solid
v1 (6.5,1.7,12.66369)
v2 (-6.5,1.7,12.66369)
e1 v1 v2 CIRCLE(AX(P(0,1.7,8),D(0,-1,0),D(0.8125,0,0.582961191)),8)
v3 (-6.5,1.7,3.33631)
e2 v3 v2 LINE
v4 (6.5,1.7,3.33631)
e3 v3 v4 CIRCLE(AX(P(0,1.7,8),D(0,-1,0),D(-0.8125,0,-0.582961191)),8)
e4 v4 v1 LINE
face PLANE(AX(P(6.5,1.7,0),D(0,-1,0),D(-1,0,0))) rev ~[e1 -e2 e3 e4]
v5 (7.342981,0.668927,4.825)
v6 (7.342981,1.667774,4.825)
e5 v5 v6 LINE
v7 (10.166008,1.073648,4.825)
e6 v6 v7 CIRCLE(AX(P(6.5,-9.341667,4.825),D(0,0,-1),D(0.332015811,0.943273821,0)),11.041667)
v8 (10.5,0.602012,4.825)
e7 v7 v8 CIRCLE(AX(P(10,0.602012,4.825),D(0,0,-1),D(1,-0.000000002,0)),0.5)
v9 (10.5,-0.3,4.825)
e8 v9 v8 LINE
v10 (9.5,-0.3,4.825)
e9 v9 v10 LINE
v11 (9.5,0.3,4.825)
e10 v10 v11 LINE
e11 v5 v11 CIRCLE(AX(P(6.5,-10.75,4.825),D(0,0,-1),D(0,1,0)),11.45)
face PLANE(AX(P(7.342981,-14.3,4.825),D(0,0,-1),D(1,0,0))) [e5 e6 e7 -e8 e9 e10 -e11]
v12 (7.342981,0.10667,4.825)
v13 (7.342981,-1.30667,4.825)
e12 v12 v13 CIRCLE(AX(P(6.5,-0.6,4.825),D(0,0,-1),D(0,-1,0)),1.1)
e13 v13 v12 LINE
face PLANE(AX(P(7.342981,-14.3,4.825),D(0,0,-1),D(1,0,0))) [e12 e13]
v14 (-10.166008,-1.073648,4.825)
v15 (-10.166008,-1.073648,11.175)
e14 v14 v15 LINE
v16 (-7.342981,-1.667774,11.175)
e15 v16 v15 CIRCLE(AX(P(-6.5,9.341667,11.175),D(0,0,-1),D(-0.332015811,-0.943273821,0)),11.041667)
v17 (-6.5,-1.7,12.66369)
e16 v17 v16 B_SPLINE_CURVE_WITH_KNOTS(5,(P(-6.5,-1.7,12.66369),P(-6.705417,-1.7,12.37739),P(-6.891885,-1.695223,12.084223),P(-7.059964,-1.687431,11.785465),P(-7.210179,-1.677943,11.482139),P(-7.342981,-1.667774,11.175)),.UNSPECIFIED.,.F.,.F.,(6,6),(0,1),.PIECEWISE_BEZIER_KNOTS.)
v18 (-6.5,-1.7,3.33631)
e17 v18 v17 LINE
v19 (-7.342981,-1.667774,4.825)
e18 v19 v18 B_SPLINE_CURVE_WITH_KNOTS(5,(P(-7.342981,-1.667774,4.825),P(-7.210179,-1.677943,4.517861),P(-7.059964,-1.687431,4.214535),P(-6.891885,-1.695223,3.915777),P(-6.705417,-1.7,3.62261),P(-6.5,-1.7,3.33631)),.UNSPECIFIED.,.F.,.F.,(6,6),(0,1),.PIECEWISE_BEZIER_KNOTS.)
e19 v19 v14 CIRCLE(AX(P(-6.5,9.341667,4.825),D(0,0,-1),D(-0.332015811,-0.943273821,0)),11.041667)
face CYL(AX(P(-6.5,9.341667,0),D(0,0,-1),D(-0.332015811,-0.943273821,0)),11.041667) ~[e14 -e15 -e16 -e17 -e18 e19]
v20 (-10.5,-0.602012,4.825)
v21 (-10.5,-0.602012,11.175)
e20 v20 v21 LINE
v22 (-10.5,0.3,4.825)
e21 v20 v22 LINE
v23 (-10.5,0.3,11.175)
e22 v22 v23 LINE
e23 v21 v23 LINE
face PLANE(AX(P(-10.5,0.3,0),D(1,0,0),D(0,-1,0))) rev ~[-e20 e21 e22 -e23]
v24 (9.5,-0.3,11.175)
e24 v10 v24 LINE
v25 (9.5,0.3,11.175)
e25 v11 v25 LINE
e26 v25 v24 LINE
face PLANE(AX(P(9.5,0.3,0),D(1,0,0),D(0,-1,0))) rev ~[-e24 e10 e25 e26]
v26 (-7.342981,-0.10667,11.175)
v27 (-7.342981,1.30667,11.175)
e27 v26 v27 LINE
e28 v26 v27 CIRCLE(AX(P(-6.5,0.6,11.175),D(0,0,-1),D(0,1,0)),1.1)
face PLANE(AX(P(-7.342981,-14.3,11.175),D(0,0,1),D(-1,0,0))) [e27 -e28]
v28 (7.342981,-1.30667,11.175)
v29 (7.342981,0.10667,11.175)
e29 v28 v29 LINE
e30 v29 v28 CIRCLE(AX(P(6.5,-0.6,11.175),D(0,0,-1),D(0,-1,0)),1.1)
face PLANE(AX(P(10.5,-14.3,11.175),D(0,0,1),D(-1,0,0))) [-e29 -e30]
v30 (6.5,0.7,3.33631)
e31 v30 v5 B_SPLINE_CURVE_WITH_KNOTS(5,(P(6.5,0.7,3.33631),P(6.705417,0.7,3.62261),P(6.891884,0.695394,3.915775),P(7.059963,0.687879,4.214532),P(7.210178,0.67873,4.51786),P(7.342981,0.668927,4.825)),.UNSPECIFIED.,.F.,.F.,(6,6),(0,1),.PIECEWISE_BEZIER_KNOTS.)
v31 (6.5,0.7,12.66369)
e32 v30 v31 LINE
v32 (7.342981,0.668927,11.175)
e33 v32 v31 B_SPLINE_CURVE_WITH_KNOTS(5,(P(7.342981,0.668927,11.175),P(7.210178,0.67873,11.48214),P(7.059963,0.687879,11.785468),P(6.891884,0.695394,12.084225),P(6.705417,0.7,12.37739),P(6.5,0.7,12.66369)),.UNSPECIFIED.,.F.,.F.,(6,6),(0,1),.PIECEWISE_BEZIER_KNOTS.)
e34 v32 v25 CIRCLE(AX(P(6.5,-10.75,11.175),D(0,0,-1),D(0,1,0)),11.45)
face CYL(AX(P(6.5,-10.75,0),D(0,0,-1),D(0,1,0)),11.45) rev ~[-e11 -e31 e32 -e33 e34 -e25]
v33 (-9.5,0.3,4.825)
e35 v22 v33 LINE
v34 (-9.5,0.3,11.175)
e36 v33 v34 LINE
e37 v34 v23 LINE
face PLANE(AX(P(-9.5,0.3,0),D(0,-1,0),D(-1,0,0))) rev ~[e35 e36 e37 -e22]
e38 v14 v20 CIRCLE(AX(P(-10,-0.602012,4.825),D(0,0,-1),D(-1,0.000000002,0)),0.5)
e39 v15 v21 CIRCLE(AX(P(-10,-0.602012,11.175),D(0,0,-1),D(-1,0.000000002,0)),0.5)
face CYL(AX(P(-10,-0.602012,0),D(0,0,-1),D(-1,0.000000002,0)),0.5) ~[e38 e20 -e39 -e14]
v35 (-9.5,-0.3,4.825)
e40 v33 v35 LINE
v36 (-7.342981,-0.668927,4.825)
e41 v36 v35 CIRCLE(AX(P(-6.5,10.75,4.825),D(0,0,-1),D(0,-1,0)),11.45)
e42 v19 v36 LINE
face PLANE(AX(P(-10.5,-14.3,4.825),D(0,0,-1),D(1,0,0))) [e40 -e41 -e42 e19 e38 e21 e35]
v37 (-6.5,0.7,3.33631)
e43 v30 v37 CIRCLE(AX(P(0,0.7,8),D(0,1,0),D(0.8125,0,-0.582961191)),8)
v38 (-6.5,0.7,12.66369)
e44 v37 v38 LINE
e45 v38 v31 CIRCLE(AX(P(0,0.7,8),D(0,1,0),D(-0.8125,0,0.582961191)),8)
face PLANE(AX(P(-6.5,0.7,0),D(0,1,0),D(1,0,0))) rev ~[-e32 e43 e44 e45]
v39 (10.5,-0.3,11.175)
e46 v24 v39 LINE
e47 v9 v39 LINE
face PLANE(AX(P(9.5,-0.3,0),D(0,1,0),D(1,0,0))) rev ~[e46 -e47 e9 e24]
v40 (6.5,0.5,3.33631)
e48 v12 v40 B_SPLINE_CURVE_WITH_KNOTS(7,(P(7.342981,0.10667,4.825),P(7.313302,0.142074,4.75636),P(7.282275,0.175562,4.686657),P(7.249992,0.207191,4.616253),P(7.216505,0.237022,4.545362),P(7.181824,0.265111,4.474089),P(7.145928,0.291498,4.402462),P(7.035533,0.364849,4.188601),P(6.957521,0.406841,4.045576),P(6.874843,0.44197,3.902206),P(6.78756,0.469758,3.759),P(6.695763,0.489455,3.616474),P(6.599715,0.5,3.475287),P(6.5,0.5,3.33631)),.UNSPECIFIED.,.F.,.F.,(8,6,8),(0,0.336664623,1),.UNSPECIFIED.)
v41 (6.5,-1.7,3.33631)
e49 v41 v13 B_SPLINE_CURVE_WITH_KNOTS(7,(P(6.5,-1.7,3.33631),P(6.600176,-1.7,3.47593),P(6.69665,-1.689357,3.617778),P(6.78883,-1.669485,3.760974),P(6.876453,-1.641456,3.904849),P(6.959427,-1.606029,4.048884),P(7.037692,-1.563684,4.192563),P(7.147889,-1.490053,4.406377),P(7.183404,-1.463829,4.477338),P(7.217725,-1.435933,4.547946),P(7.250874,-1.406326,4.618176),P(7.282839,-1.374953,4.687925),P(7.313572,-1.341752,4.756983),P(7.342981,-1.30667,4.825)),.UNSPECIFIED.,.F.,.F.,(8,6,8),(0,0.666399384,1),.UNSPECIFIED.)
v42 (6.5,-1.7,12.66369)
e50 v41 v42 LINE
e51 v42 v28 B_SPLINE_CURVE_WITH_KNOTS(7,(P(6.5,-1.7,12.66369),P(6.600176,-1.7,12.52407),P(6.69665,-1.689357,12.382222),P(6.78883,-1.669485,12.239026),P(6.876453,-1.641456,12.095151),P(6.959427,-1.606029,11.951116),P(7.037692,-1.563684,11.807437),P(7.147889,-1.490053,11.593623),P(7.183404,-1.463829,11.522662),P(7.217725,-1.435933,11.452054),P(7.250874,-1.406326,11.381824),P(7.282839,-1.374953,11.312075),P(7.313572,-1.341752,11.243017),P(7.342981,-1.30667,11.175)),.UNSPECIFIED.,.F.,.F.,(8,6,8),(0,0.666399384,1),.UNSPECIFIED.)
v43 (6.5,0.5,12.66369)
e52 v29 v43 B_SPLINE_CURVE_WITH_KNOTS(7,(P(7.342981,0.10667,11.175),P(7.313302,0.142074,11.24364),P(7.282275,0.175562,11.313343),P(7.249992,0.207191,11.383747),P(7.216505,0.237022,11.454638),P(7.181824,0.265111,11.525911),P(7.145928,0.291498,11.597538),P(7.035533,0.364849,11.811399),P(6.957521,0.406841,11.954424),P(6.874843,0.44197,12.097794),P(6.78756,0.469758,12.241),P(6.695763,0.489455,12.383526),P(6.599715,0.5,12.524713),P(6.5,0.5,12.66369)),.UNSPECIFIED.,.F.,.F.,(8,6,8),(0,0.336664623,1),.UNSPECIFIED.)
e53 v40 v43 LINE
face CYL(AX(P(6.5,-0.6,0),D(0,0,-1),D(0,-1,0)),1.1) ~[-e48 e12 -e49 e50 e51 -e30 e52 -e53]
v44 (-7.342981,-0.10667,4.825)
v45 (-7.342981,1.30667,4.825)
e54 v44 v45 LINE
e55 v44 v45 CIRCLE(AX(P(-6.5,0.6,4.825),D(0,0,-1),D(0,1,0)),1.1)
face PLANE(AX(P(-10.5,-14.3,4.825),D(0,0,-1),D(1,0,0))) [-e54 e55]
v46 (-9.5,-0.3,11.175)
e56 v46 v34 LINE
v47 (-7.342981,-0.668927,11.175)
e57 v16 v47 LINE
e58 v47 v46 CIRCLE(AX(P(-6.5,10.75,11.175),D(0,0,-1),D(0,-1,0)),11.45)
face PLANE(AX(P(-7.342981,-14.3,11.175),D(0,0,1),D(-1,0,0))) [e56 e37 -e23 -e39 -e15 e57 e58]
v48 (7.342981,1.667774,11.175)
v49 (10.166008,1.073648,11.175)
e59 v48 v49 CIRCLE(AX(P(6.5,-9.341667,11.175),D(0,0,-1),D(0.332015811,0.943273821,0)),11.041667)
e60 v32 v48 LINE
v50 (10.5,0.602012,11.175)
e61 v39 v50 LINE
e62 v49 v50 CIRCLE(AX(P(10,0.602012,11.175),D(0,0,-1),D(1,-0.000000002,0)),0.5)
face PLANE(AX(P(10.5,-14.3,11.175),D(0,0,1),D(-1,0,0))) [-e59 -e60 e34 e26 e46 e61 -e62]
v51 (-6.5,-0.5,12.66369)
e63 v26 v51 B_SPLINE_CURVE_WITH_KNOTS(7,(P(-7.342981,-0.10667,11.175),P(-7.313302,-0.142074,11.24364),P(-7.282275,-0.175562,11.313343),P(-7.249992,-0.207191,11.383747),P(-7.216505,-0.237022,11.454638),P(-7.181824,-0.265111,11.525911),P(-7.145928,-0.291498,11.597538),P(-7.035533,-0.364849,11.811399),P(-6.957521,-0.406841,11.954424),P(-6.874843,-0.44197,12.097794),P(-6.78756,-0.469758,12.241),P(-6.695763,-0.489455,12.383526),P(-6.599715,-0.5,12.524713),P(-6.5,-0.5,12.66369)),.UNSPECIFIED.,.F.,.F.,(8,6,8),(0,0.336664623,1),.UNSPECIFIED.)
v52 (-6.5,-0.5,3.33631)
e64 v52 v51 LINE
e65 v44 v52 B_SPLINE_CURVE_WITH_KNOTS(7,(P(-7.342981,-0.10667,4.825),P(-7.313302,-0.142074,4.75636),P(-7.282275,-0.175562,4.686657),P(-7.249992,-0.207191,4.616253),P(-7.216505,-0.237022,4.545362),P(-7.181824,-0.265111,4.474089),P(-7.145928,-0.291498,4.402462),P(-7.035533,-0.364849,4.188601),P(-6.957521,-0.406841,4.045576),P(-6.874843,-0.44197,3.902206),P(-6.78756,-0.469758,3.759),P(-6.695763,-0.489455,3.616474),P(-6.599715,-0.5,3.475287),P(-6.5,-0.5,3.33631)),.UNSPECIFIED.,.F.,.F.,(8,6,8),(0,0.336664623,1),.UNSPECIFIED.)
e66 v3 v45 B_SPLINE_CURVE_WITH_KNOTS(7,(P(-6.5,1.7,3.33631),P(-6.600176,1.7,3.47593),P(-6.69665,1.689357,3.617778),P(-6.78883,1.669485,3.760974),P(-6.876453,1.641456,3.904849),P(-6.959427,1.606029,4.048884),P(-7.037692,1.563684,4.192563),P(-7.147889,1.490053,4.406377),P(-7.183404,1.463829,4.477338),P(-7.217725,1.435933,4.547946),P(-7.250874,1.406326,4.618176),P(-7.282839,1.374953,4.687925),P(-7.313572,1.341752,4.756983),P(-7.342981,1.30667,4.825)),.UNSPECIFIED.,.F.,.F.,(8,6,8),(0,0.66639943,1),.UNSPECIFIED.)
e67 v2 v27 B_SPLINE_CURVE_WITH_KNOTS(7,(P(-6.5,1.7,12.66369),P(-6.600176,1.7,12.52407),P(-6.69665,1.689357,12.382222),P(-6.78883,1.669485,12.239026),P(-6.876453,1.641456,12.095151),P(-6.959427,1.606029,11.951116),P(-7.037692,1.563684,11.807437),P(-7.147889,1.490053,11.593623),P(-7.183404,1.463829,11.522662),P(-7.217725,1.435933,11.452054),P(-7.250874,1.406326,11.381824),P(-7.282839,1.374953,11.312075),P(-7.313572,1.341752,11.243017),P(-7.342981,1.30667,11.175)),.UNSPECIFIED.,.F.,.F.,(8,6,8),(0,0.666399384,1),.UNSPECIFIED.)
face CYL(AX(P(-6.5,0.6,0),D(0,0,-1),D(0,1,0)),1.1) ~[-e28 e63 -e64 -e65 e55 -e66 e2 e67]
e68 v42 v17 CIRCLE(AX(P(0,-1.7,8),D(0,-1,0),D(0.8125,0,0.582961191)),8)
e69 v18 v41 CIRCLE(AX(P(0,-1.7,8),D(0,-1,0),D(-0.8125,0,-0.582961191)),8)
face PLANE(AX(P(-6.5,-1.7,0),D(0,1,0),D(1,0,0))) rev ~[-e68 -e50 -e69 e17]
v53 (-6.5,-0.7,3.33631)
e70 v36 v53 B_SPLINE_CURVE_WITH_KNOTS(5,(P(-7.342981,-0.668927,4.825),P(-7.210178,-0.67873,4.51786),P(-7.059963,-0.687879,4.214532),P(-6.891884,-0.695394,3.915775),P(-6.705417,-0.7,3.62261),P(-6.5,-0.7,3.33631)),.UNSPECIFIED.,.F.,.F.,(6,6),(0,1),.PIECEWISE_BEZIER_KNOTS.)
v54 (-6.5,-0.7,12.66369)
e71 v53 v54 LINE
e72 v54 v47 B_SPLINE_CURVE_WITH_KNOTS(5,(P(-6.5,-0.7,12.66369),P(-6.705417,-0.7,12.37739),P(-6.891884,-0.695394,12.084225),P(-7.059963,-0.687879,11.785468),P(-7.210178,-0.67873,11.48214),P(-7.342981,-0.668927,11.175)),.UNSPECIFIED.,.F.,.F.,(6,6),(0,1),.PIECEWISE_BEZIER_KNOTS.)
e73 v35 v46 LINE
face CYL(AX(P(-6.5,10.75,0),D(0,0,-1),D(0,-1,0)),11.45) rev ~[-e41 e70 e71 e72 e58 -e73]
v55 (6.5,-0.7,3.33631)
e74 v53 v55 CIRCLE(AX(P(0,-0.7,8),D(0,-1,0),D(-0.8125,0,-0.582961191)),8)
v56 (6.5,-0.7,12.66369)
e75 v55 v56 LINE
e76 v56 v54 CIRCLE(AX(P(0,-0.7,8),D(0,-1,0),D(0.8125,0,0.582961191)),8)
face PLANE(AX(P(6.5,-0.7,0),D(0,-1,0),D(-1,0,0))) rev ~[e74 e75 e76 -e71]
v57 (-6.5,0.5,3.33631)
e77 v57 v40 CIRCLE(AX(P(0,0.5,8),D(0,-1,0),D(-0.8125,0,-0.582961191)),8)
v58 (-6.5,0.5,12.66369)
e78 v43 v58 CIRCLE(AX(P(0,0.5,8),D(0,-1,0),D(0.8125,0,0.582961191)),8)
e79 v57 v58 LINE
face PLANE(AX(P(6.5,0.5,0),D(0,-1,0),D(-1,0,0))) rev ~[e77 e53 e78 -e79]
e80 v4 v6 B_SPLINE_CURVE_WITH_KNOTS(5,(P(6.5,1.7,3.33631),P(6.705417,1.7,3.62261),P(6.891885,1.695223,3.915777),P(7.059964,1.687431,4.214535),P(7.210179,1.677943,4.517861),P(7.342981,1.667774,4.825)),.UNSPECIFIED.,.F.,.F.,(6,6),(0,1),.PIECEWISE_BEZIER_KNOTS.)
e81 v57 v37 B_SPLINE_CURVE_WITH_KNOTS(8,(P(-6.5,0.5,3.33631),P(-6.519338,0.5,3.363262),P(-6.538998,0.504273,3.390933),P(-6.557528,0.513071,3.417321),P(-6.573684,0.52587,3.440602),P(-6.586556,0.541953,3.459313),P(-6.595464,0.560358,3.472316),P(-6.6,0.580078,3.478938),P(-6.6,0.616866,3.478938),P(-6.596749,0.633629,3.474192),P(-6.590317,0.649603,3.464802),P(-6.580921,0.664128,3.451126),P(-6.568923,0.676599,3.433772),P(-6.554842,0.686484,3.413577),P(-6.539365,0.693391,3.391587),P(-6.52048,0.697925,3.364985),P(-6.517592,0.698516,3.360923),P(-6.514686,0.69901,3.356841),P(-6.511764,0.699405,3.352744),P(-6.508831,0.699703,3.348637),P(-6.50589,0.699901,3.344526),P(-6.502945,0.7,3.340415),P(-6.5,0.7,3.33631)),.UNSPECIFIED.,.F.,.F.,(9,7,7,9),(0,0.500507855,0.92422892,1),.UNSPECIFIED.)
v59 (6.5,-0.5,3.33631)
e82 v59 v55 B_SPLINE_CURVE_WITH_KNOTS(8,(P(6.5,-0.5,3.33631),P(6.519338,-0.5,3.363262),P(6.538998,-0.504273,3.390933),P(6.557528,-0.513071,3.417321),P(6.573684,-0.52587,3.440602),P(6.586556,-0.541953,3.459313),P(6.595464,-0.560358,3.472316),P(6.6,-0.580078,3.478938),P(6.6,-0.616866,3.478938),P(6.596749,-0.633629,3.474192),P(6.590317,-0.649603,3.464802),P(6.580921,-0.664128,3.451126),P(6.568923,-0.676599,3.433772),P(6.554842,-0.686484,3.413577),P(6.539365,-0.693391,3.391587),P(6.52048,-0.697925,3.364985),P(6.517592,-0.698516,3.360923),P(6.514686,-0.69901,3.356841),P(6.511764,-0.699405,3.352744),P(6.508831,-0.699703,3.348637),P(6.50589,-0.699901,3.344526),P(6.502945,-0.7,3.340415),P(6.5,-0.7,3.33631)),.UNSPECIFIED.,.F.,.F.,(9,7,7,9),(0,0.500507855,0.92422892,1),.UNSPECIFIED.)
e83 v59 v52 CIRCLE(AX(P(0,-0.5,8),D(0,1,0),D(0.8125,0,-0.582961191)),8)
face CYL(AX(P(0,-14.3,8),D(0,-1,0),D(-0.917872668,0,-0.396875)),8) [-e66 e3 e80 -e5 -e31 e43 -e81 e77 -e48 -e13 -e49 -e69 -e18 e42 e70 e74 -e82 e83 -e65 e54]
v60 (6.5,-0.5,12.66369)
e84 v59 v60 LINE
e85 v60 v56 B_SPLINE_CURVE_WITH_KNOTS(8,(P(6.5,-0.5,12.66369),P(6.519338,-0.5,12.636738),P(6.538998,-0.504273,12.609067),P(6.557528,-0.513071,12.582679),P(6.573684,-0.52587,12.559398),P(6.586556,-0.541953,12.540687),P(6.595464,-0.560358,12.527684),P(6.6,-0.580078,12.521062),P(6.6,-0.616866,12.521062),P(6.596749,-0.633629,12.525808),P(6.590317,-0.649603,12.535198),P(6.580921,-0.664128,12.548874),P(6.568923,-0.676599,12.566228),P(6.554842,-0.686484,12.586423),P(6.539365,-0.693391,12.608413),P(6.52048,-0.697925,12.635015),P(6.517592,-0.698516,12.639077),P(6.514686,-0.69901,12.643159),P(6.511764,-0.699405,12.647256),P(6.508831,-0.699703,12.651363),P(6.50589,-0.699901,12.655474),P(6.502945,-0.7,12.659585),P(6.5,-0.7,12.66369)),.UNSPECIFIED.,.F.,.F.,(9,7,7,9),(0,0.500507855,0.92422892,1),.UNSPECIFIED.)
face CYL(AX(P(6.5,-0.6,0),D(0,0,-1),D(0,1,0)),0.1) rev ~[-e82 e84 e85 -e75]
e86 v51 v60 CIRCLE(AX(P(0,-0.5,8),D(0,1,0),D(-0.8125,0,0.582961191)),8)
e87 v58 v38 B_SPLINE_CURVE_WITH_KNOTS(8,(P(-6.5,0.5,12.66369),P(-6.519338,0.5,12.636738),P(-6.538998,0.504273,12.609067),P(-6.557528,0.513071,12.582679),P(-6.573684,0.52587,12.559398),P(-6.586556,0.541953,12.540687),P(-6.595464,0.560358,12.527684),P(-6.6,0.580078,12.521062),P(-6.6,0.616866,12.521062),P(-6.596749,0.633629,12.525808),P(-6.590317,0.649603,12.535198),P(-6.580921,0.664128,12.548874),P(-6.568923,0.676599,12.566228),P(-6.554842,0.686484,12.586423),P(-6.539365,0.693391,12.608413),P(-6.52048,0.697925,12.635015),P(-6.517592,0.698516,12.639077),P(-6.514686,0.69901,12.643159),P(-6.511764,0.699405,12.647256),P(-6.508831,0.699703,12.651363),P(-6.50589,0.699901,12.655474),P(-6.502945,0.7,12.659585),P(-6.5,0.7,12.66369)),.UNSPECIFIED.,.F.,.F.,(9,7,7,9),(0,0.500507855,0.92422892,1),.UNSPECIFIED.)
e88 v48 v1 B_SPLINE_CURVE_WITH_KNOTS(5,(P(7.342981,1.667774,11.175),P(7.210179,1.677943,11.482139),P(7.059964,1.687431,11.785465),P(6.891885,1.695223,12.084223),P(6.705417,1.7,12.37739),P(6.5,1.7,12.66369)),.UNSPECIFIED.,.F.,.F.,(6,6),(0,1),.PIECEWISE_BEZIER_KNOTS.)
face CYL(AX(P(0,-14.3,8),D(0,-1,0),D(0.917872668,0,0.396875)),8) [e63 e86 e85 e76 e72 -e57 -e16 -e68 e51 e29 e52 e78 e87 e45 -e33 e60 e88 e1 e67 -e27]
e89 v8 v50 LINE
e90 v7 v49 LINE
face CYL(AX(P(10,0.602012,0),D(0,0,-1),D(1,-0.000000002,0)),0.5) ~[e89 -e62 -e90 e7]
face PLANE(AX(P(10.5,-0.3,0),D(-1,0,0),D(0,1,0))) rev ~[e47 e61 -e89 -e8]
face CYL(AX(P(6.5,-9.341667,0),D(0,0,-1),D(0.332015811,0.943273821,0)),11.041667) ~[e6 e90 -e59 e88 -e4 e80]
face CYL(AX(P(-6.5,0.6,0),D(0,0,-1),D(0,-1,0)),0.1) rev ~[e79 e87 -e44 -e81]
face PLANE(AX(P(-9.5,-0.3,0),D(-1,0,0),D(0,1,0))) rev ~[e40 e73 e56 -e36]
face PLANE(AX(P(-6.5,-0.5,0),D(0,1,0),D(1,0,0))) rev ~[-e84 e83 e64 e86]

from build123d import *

# Parameters (mm, degrees)
BOSS_EXTRUDE1_DEPTH     = 16
CUT_EXTRUDE2_DEPTH      = 16
CUT_EXTRUDE2_DEPTH_BACK = 16
SKETCH2_R               = 16.202009592


with BuildPart() as part:
    # Sketch1 → Boss-Extrude1 (new body)
    with BuildSketch(Plane.XY):
        with BuildLine():
            Line((-6.5, -1.7), (6.5, -1.7))
            ThreePointArc((6.5, -1.7), (7.6, -0.6), (6.5, 0.5))
            Line((6.5, 0.5), (-6.5, 0.5))
            ThreePointArc((-6.5, 0.5), (-6.6, 0.6), (-6.5, 0.7))
            Line((-6.5, 0.7), (6.5, 0.7))
            ThreePointArc((6.5, 0.7), (8.013274595, 0.599559463), (9.5, 0.3))
            Line((9.5, 0.3), (9.5, -0.3))
            Line((9.5, -0.3), (10.5, -0.3))
            Line((10.5, -0.3), (10.5, 0.602011532))
            ThreePointArc((10.5, 0.602011532), (10.408046537, 0.890971778), (10.166007905, 1.073648442))
            ThreePointArc((10.166007905, 1.073648442), (8.359565153, 1.542285751), (6.5, 1.7))
            Line((6.5, 1.7), (-6.5, 1.7))
            ThreePointArc((-6.5, 1.7), (-7.6, 0.6), (-6.5, -0.5))
            Line((-6.5, -0.5), (6.5, -0.5))
            ThreePointArc((6.5, -0.5), (6.6, -0.6), (6.5, -0.7))
            Line((6.5, -0.7), (-6.5, -0.7))
            ThreePointArc((-6.5, -0.7), (-8.013274595, -0.599559463), (-9.5, -0.3))
            Line((-9.5, -0.3), (-9.5, 0.3))
            Line((-9.5, 0.3), (-10.5, 0.3))
            Line((-10.5, 0.3), (-10.5, -0.602011532))
            ThreePointArc((-10.5, -0.602011532), (-10.408046537, -0.890971778), (-10.166007905, -1.073648442))
            ThreePointArc((-10.166007905, -1.073648442), (-8.359565153, -1.542285751), (-6.5, -1.7))
        make_face()
    extrude(amount=BOSS_EXTRUDE1_DEPTH)

    # Sketch2 → Cut-Extrude2 (cut, two sides: drawn at the far end of the back side and taken through both)
    with BuildSketch(Plane(origin=(0, 1.7, 0), x_dir=(1, 0, 0), z_dir=(0, 1, 0)).offset(-CUT_EXTRUDE2_DEPTH_BACK)):
        with Locations((0, -8)):
            Circle(SKETCH2_R)
        with BuildLine():
            Line((-7.342981343, -11.175), (-10.5, -11.175))
            Line((-10.5, -11.175), (-10.5, -4.825))
            Line((-10.5, -4.825), (-7.342981343, -4.825))
            ThreePointArc((-7.342981343, -4.825), (0, 0), (7.342981343, -4.825))
            Line((7.342981343, -4.825), (10.5, -4.825))
            Line((10.5, -4.825), (10.5, -11.175))
            Line((10.5, -11.175), (7.342981343, -11.175))
            ThreePointArc((7.342981343, -11.175), (0, -16), (-7.342981343, -11.175))
        make_face(mode=Mode.SUBTRACT)
    extrude(amount=CUT_EXTRUDE2_DEPTH + CUT_EXTRUDE2_DEPTH_BACK, mode=Mode.SUBTRACT)


solid = part.part
